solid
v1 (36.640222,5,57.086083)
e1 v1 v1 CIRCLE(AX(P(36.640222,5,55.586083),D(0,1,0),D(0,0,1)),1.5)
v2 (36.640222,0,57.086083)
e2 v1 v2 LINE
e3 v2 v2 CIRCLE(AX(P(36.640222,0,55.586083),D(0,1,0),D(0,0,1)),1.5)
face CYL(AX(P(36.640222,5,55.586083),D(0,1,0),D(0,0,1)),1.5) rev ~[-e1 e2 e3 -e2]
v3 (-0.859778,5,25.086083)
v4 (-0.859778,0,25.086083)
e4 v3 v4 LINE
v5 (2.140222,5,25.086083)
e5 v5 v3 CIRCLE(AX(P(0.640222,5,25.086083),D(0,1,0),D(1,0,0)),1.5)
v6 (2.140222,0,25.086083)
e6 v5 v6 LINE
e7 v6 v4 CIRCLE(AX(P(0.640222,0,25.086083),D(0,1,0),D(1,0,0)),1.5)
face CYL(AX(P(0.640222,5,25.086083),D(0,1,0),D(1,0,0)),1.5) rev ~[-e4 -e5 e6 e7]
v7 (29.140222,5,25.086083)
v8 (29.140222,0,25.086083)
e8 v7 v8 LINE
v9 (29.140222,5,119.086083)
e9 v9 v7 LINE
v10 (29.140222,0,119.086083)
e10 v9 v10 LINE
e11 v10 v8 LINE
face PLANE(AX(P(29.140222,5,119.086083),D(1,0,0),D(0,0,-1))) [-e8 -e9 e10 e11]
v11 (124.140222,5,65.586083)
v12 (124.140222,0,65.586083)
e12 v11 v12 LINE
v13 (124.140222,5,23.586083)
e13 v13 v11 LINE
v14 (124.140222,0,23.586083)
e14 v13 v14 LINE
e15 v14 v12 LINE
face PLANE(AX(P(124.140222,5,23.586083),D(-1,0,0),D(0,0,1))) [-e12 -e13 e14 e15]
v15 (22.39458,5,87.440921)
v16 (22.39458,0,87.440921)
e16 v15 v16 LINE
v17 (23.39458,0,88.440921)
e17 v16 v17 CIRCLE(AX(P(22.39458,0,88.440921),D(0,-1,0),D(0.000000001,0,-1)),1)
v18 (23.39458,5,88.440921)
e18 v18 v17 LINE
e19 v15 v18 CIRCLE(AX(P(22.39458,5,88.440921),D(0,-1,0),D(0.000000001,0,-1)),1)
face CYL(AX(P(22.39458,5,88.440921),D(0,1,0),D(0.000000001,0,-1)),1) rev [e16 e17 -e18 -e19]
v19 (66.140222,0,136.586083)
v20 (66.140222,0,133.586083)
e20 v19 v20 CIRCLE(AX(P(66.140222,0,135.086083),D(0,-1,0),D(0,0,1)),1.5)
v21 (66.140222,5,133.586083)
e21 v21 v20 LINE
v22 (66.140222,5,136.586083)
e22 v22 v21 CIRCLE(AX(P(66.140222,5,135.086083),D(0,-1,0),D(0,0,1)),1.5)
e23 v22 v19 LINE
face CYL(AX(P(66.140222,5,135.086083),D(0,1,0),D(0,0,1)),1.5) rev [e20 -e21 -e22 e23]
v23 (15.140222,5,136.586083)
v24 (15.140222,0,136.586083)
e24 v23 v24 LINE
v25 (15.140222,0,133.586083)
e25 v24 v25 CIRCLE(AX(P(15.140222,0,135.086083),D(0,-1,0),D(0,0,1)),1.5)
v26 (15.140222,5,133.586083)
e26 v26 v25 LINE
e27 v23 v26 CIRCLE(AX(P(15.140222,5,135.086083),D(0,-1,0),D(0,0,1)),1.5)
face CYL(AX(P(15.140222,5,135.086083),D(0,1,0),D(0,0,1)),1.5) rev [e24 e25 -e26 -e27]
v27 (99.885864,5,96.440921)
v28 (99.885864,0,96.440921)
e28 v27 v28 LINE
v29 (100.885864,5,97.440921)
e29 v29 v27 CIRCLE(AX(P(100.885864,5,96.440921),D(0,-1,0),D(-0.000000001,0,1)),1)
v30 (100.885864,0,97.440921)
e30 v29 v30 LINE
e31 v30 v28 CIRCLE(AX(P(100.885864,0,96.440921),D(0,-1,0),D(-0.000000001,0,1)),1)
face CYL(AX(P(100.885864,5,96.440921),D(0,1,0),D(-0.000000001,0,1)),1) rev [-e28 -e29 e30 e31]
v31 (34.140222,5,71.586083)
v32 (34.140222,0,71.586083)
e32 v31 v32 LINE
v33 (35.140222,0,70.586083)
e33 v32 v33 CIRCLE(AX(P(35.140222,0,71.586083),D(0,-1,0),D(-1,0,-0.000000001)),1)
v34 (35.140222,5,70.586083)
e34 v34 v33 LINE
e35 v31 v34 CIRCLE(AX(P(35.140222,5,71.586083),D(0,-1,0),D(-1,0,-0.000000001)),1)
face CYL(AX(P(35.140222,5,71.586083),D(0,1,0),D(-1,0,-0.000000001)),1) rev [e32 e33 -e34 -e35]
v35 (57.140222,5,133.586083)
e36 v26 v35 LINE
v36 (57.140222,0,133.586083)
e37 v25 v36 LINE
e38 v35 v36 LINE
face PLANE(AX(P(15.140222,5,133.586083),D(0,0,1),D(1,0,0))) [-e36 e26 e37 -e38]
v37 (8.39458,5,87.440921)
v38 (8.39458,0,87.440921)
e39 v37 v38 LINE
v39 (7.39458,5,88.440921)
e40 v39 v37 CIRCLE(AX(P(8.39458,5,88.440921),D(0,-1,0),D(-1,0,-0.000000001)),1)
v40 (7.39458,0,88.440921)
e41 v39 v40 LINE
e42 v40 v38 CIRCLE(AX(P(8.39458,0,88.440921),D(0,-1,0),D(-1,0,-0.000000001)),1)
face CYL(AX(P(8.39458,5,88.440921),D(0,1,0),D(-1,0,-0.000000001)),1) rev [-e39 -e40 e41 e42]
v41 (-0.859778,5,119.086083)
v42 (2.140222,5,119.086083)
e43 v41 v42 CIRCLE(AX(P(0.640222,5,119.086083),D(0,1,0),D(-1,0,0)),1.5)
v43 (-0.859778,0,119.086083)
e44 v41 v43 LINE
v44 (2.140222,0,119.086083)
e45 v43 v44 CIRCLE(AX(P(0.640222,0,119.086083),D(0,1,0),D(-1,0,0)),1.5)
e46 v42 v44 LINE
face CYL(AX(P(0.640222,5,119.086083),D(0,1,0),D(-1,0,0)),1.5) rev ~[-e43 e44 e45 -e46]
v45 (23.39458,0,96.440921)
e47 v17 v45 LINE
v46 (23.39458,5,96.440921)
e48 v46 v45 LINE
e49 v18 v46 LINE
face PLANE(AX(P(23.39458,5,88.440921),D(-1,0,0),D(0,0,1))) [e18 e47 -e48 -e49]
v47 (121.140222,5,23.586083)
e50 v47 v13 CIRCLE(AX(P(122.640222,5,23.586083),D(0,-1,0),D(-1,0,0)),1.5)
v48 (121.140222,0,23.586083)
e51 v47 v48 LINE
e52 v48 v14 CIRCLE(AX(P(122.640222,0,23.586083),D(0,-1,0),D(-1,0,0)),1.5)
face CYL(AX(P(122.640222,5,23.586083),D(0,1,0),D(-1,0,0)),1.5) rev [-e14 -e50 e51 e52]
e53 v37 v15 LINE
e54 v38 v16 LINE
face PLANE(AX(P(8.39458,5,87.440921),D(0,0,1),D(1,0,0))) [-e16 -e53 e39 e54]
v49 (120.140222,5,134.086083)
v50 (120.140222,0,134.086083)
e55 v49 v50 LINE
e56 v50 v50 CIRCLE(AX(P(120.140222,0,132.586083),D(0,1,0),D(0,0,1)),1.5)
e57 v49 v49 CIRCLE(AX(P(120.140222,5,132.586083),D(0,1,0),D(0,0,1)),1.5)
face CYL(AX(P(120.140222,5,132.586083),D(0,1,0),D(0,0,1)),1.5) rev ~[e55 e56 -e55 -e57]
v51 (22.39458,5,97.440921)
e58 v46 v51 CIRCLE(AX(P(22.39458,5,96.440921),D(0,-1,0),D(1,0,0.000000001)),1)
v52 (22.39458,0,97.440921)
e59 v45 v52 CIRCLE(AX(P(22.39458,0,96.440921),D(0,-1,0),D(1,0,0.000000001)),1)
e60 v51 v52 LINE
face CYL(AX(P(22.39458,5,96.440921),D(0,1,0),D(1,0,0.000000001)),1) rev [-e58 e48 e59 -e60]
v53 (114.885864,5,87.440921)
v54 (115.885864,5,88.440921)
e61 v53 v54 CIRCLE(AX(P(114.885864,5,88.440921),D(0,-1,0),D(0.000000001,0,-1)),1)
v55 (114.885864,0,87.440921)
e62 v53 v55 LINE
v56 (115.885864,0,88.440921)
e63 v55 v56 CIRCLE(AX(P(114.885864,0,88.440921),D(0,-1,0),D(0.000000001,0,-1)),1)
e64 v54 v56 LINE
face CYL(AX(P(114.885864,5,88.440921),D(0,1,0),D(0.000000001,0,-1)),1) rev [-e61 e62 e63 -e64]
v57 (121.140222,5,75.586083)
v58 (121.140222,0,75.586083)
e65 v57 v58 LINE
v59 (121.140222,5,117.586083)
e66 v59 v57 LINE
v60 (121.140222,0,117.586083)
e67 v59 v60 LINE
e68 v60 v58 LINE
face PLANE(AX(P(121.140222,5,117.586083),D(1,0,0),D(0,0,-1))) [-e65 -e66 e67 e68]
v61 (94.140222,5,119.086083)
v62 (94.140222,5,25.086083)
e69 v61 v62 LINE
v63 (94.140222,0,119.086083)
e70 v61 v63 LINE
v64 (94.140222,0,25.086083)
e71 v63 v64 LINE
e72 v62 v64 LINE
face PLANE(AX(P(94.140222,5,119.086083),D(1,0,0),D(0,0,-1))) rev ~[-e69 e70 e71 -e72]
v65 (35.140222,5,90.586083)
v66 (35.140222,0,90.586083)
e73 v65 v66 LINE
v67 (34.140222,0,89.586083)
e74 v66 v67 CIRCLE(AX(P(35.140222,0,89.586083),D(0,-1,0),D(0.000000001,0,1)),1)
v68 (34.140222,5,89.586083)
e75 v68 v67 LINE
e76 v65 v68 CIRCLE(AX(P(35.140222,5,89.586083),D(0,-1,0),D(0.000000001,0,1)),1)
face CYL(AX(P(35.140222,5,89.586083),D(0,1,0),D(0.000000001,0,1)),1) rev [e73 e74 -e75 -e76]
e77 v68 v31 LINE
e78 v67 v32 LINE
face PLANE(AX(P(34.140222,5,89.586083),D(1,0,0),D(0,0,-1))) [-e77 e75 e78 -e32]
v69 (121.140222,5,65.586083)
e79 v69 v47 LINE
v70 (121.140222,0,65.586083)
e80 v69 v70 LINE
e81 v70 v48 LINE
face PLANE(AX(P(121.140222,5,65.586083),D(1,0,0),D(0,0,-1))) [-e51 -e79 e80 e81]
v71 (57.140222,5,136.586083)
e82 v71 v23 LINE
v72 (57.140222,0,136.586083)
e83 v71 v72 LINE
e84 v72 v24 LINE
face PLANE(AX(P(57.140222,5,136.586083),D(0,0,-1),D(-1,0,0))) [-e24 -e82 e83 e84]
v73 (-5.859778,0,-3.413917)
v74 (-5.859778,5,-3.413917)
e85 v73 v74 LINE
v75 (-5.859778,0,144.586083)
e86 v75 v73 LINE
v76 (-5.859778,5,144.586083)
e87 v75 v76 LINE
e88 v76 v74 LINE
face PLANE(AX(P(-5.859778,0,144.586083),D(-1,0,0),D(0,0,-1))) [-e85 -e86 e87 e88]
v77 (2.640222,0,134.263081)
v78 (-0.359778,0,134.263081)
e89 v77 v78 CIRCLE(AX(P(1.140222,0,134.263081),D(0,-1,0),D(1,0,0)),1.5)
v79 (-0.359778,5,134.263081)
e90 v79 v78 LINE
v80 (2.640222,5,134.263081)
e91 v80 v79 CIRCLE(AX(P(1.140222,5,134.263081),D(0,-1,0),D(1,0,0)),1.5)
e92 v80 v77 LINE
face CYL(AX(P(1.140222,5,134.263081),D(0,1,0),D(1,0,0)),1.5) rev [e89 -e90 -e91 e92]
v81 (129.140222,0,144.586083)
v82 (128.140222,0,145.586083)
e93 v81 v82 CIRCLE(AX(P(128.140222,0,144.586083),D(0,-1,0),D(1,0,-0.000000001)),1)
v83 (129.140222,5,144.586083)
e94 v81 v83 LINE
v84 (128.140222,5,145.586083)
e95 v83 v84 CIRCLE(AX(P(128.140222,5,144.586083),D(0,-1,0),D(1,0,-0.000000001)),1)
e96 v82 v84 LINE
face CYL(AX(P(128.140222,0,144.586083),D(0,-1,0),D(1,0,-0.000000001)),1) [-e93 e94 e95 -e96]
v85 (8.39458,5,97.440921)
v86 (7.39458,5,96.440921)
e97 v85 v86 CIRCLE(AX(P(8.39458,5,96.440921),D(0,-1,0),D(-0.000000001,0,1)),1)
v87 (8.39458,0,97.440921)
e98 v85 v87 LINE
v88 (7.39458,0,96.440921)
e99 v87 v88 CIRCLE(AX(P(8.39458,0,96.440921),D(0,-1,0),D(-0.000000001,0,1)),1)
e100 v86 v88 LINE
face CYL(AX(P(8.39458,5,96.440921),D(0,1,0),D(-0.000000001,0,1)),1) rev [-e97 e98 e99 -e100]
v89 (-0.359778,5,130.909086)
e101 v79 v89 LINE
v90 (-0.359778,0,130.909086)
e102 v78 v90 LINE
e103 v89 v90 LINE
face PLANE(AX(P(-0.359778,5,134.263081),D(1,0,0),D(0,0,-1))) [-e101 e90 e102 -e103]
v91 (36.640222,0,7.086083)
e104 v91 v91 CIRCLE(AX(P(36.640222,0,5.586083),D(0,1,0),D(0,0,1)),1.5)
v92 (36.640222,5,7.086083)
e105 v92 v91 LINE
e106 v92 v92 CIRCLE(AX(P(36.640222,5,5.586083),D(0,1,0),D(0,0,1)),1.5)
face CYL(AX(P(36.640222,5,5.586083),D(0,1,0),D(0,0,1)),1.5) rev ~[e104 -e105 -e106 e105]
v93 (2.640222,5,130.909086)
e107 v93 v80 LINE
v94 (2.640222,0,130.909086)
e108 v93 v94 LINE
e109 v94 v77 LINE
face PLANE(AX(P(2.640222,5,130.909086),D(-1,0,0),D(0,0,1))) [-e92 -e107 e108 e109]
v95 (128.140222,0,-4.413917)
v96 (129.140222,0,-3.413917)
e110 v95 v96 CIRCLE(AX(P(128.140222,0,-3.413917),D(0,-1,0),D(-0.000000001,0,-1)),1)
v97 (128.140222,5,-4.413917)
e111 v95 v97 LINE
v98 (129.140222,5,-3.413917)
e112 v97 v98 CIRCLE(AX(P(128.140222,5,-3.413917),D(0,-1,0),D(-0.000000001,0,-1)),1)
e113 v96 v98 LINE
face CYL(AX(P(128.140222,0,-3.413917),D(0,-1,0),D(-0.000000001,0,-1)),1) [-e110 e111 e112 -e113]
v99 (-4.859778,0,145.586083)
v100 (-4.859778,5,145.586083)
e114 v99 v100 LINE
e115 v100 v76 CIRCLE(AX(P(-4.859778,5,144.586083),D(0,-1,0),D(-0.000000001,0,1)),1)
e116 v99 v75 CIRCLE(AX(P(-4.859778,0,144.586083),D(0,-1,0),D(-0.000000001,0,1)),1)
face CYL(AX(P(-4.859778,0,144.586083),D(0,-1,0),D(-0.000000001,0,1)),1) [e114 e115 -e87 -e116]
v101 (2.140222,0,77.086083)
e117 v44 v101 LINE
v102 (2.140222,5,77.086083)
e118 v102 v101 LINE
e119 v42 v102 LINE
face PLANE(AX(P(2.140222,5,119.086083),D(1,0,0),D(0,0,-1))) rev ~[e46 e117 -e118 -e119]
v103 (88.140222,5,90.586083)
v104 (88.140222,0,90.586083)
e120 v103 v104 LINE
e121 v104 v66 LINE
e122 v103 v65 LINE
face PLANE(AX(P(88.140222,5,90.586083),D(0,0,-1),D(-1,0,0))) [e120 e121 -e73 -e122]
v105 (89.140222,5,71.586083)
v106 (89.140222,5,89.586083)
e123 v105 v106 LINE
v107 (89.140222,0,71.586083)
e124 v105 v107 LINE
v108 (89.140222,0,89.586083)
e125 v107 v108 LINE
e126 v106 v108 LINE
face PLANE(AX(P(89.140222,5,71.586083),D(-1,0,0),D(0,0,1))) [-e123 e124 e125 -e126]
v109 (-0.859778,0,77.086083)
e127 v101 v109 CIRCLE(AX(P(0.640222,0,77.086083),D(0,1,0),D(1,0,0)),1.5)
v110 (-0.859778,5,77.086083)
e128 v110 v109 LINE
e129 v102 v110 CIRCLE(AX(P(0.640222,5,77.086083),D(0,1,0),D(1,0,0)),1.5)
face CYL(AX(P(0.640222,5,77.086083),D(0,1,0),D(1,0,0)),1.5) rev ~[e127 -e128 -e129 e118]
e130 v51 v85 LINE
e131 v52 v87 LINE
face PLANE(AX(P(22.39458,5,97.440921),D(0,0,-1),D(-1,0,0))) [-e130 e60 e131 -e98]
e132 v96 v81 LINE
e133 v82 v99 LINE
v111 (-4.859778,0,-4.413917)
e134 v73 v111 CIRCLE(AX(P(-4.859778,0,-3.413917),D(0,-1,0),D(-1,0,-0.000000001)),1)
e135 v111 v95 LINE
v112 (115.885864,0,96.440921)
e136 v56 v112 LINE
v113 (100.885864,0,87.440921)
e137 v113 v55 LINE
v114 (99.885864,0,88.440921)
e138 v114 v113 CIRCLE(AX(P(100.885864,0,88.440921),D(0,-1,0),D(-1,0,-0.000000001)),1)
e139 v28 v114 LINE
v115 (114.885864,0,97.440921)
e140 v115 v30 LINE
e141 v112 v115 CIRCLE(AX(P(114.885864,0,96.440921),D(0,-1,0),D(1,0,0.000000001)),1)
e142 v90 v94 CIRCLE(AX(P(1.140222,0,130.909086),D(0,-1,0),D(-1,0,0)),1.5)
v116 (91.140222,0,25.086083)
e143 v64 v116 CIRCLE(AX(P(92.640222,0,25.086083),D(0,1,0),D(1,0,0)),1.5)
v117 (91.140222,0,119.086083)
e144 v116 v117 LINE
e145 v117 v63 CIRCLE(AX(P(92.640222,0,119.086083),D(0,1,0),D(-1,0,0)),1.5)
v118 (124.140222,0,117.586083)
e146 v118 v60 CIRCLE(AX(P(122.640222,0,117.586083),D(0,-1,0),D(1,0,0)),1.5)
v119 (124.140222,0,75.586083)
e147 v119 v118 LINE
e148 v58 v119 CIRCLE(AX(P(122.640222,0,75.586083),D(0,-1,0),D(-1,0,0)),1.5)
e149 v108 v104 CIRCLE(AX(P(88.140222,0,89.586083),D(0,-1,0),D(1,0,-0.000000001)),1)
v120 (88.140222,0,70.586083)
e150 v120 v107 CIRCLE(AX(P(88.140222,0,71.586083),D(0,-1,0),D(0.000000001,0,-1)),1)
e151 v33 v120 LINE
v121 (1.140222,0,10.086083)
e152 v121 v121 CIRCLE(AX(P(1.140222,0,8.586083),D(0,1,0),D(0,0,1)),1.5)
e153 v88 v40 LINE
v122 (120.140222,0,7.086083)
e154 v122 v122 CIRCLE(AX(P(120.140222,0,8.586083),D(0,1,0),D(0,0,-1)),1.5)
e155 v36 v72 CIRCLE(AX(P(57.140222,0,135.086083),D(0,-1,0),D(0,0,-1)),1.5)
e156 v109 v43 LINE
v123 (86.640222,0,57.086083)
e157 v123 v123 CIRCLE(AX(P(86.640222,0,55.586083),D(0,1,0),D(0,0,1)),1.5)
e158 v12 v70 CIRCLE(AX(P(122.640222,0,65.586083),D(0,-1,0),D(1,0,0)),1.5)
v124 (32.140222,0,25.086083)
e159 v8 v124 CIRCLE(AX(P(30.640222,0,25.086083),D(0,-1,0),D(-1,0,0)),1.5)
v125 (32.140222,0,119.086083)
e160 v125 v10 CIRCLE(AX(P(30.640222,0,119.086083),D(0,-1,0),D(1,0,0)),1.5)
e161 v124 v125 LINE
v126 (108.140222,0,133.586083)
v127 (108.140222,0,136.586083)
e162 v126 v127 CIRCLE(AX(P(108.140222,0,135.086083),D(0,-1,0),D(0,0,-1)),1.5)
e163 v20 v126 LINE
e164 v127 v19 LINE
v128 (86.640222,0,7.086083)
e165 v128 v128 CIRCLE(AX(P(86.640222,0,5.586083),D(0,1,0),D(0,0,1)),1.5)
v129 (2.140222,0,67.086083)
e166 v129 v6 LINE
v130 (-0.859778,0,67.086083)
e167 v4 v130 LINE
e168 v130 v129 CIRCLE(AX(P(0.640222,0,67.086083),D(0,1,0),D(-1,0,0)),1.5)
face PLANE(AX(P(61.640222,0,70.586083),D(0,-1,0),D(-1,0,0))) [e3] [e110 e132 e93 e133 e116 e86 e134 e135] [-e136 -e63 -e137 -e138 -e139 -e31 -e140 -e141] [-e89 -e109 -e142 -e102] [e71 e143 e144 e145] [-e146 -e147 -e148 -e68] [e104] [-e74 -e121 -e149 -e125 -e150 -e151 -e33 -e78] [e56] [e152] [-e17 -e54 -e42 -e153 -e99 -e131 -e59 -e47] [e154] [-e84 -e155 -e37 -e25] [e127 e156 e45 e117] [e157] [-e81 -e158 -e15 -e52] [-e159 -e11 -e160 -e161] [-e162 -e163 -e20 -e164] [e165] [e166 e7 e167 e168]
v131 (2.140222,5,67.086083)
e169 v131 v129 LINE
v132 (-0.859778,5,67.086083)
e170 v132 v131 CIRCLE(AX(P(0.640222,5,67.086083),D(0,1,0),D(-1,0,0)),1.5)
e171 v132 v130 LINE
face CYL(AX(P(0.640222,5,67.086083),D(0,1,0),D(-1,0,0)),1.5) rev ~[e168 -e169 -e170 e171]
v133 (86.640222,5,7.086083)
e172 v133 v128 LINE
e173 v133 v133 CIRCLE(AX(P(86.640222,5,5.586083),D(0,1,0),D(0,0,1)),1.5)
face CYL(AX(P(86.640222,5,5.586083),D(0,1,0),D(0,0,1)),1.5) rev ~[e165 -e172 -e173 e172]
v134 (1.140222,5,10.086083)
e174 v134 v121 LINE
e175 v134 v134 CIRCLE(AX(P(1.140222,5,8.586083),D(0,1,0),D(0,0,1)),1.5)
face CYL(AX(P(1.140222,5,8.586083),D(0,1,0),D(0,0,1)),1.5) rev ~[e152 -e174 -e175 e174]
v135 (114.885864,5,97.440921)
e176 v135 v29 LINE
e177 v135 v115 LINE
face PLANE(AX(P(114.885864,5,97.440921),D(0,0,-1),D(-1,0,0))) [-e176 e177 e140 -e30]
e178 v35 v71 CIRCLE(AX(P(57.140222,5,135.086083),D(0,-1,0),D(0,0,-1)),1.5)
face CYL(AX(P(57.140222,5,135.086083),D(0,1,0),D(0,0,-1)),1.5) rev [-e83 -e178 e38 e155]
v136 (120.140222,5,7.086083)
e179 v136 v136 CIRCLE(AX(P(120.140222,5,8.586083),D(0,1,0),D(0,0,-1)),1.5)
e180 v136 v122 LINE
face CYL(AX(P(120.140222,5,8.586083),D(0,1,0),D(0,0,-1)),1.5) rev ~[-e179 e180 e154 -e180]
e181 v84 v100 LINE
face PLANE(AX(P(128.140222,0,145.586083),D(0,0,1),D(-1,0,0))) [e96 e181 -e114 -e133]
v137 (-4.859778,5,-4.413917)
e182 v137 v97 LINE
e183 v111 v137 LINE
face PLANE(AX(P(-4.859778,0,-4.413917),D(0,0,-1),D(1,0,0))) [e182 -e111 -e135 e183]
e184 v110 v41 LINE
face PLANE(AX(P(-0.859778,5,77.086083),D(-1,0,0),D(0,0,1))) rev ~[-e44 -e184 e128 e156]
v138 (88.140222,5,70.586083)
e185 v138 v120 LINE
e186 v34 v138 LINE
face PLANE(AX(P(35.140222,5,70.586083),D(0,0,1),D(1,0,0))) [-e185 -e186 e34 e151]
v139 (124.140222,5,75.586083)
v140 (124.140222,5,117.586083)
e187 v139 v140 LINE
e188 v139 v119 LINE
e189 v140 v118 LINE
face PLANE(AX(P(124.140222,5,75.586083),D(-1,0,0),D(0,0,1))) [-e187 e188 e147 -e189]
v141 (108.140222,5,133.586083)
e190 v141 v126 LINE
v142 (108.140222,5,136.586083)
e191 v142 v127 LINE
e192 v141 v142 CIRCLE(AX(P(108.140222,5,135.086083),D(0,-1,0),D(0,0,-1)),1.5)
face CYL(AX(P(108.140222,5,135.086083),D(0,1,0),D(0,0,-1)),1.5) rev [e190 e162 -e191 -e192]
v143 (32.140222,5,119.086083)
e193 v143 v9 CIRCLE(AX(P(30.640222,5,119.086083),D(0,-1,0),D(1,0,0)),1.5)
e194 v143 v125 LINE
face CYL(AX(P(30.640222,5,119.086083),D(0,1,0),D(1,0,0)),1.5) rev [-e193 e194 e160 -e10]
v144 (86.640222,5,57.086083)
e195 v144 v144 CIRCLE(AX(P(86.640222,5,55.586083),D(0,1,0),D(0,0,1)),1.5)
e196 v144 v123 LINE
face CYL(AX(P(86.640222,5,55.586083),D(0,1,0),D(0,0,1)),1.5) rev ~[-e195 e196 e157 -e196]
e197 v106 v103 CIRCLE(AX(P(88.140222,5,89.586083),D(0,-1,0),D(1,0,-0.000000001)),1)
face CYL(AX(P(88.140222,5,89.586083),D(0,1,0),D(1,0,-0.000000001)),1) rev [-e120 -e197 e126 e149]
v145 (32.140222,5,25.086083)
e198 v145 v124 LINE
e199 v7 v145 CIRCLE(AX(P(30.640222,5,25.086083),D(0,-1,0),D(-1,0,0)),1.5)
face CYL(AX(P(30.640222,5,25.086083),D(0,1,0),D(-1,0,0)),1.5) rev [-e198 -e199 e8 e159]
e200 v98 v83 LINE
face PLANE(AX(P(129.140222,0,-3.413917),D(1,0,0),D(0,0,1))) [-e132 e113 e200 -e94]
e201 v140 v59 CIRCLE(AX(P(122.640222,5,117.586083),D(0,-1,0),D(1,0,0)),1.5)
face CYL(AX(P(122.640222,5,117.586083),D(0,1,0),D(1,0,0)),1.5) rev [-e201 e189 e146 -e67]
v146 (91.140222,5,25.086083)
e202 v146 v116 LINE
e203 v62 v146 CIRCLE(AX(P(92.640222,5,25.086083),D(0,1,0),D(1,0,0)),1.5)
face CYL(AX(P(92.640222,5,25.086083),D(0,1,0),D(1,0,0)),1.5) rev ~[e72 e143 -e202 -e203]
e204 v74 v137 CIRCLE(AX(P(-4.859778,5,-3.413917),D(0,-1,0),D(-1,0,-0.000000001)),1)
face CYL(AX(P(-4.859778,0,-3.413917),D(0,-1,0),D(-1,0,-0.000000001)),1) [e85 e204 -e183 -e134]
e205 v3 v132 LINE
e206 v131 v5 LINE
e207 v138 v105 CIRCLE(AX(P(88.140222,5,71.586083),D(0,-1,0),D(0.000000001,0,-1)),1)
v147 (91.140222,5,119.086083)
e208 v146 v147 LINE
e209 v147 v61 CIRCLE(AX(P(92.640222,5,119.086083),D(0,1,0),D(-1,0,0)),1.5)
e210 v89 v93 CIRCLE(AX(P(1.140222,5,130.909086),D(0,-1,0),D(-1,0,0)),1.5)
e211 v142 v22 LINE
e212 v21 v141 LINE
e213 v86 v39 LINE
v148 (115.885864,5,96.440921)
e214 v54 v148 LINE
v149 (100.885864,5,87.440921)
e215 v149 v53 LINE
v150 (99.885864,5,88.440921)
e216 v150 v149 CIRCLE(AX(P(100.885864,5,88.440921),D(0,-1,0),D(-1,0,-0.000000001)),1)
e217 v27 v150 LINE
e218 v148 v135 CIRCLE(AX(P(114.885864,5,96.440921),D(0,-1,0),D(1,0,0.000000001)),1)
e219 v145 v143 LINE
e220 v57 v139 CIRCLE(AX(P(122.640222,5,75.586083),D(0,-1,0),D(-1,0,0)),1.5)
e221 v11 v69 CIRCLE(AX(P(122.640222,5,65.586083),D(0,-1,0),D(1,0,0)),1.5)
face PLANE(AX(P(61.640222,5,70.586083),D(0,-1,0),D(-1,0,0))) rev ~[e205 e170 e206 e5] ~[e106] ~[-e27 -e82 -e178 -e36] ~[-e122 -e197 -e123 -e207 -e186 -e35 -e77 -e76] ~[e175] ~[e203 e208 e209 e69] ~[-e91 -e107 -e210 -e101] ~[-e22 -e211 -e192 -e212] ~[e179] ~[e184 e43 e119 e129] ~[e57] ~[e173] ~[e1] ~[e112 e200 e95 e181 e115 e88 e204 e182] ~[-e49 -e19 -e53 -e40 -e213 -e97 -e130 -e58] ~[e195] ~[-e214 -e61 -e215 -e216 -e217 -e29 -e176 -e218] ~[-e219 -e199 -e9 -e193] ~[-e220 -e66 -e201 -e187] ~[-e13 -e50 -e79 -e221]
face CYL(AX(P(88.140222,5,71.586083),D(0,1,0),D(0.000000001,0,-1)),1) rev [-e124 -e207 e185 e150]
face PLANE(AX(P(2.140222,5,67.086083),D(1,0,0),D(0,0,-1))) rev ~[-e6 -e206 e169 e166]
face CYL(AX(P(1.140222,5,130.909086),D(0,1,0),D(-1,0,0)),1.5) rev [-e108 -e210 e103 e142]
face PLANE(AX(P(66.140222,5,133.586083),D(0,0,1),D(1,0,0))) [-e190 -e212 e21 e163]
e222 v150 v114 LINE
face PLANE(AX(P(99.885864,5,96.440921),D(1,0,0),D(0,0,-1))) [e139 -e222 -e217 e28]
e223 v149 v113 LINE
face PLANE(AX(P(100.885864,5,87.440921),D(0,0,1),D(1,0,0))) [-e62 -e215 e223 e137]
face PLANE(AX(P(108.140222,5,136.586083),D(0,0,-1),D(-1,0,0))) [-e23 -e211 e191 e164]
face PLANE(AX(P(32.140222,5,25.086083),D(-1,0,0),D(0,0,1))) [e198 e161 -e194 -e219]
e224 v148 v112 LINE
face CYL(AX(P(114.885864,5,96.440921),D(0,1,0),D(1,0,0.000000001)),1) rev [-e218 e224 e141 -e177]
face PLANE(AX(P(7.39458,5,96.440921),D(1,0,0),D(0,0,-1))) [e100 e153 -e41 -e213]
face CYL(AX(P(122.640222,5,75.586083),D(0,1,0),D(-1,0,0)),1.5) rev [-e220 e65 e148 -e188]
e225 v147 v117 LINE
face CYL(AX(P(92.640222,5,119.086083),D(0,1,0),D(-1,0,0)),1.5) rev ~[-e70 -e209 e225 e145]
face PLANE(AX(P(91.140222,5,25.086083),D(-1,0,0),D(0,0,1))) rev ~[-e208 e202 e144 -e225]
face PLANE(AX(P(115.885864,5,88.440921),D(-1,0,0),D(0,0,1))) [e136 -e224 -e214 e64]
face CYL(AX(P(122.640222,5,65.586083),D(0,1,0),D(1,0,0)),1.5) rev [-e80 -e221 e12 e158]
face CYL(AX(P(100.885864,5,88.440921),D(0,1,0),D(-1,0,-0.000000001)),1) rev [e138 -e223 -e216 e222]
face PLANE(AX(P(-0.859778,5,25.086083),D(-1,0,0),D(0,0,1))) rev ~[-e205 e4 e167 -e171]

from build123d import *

# Parameters (mm, degrees)
BOSS_EXTRUDE1_DEPTH = 5
CUT_EXTRUDE1_DEPTH  = 5
CUT_EXTRUDE2_DEPTH  = 5
SKETCH7_R           = 1.5
CUT_EXTRUDE3_DEPTH  = 5
CUT_EXTRUDE4_DEPTH  = 5
SKETCH10_R          = 1.5
CUT_EXTRUDE5_DEPTH  = 5
CUT_EXTRUDE6_DEPTH  = 5
CUT_EXTRUDE7_DEPTH  = 5


with BuildPart() as part:
    # Sketch1 → Boss-Extrude1 (new body)
    with BuildSketch(Plane(origin=(0, 0, 0), x_dir=(1, 0, 0), z_dir=(0, 1, 0))):
        with BuildLine():
            Line((-4.859778007, 4.413916891), (128.140221993, 4.413916891))
            ThreePointArc((128.140221993, 4.413916891), (128.847328775, 4.121023672), (129.140221993, 3.413916891))
            Line((129.140221993, 3.413916891), (129.140221993, -144.586083109))
            ThreePointArc((129.140221993, -144.586083109), (128.847328775, -145.29318989), (128.140221993, -145.586083109))
            Line((128.140221993, -145.586083109), (-4.859778007, -145.586083109))
            ThreePointArc((-4.859778007, -145.586083109), (-5.566884788, -145.29318989), (-5.859778007, -144.586083109))
            Line((-5.859778007, -144.586083109), (-5.859778007, 3.413916891))
            ThreePointArc((-5.859778007, 3.413916891), (-5.566884788, 4.121023672), (-4.859778007, 4.413916891))
        make_face()
    extrude(amount=BOSS_EXTRUDE1_DEPTH)

    # Sketch3 → Cut-Extrude1 (cut)
    with BuildSketch(Plane(origin=(75.20450804, 5, 34.196611672), x_dir=(1, 0, 0), z_dir=(0, 1, 0))):
        with BuildLine():
            Line((45.935713953, -83.389471436), (45.935713953, -41.389471436))
            ThreePointArc((45.935713953, -41.389471436), (47.435713953, -39.889471436), (48.935713953, -41.389471436))
            Line((48.935713953, -41.389471436), (48.935713953, -83.389471436))
            ThreePointArc((48.935713953, -83.389471436), (47.435713953, -84.889471436), (45.935713953, -83.389471436))
        make_face()
        with BuildLine():
            Line((45.935713953, -31.389471436), (45.935713953, 10.610528564))
            ThreePointArc((45.935713953, 10.610528564), (47.435713953, 12.110528564), (48.935713953, 10.610528564))
            Line((48.935713953, 10.610528564), (48.935713953, -31.389471436))
            ThreePointArc((48.935713953, -31.389471436), (47.435713953, -32.889471436), (45.935713953, -31.389471436))
        make_face()
        with BuildLine():
            Line((-73.064286047, -84.889471436), (-73.064286047, -42.889471436))
            ThreePointArc((-73.064286047, -42.889471436), (-74.564286047, -41.389471436), (-76.064286047, -42.889471436))
            Line((-76.064286047, -42.889471436), (-76.064286047, -84.889471436))
            ThreePointArc((-76.064286047, -84.889471436), (-74.564286047, -86.389471436), (-73.064286047, -84.889471436))
        make_face()
        with BuildLine():
            Line((-73.064286047, -32.889471436), (-73.064286047, 9.110528564))
            ThreePointArc((-73.064286047, 9.110528564), (-74.564286047, 10.610528564), (-76.064286047, 9.110528564))
            Line((-76.064286047, 9.110528564), (-76.064286047, -32.889471436))
            ThreePointArc((-76.064286047, -32.889471436), (-74.564286047, -34.389471436), (-73.064286047, -32.889471436))
        make_face()
    extrude(amount=-CUT_EXTRUDE1_DEPTH, mode=Mode.SUBTRACT)

    # Sketch5 → Cut-Extrude2 (cut)
    with BuildSketch(Plane(origin=(75.20450804, 5, 34.196611672), x_dir=(1, 0, 0), z_dir=(0, 1, 0))):
        with BuildLine():
            Line((-60.064286047, -99.389471436), (-18.064286047, -99.389471436))
            ThreePointArc((-18.064286047, -99.389471436), (-16.564286047, -100.889471436), (-18.064286047, -102.389471436))
            Line((-18.064286047, -102.389471436), (-60.064286047, -102.389471436))
            ThreePointArc((-60.064286047, -102.389471436), (-61.564286047, -100.889471436), (-60.064286047, -99.389471436))
        make_face()
        with BuildLine():
            Line((-9.064286047, -99.389471436), (32.935713953, -99.389471436))
            ThreePointArc((32.935713953, -99.389471436), (34.435713953, -100.889471436), (32.935713953, -102.389471436))
            Line((32.935713953, -102.389471436), (-9.064286047, -102.389471436))
            ThreePointArc((-9.064286047, -102.389471436), (-10.564286047, -100.889471436), (-9.064286047, -99.389471436))
        make_face()
    extrude(amount=-CUT_EXTRUDE2_DEPTH, mode=Mode.SUBTRACT)

    # Sketch7 → Cut-Extrude3 (cut)
    with BuildSketch(Plane(origin=(75.20450804, 5, 34.196611672), x_dir=(1, 0, 0), z_dir=(0, 1, 0))):
        with Locations(Location((44.935713953, -98.389471436, 0), (0, 0, 270))):
            Circle(SKETCH7_R)
        with Locations(Location((44.935713953, 25.610528564, 0), (0, 0, 90))):
            Circle(SKETCH7_R)
        with Locations(Location((-74.064286047, 25.610528564, 0), (0, 0, 270))):
            Circle(SKETCH7_R)
        with BuildLine():
            Line((-72.564286047, -96.712473991), (-72.564286047, -100.066468882))
            ThreePointArc((-72.564286047, -100.066468882), (-74.064286047, -101.566468882), (-75.564286047, -100.066468882))
            Line((-75.564286047, -100.066468882), (-75.564286047, -96.712473991))
            ThreePointArc((-75.564286047, -96.712473991), (-74.064286047, -95.212473991), (-72.564286047, -96.712473991))
        make_face()
    extrude(amount=-CUT_EXTRUDE3_DEPTH, mode=Mode.SUBTRACT)

    # Sketch9 → Cut-Extrude4 (cut)
    with BuildSketch(Plane(origin=(75.20450804, 5, 34.196611672), x_dir=(1, 0, 0), z_dir=(0, 1, 0))):
        with BuildLine():
            Line((-40.064286047, -36.389471436), (12.935713953, -36.389471436))
            ThreePointArc((12.935713953, -36.389471436), (13.642820734, -36.682364655), (13.935713953, -37.389471436))
            Line((13.935713953, -37.389471436), (13.935713953, -55.389471436))
            ThreePointArc((13.935713953, -55.389471436), (13.642820734, -56.096578218), (12.935713953, -56.389471436))
            Line((12.935713953, -56.389471436), (-40.064286047, -56.389471436))
            ThreePointArc((-40.064286047, -56.389471436), (-40.771392828, -56.096578218), (-41.064286047, -55.389471436))
            Line((-41.064286047, -55.389471436), (-41.064286047, -37.389471436))
            ThreePointArc((-41.064286047, -37.389471436), (-40.771392828, -36.682364655), (-40.064286047, -36.389471436))
        make_face()
    extrude(amount=-CUT_EXTRUDE4_DEPTH, mode=Mode.SUBTRACT)

    # Sketch10 → Cut-Extrude5 (cut)
    with BuildSketch(Plane(origin=(0, 5, 0), x_dir=(1, 0, 0), z_dir=(0, 1, 0))):
        with Locations(Location((36.640221993, -5.586083109, 0), (0, 0, 270))):
            Circle(SKETCH10_R)
        with Locations(Location((86.640221993, -5.586083109, 0), (0, 0, 270))):
            Circle(SKETCH10_R)
        with Locations(Location((86.640221993, -55.586083109, 0), (0, 0, 270))):
            Circle(SKETCH10_R)
        with Locations(Location((36.640221993, -55.586083109, 0), (0, 0, 270))):
            Circle(SKETCH10_R)
    extrude(amount=-CUT_EXTRUDE5_DEPTH, mode=Mode.SUBTRACT)

    # Sketch11 → Cut-Extrude6 (cut)
    with BuildSketch(Plane(origin=(0, 5, 0), x_dir=(1, 0, 0), z_dir=(0, 1, 0))):
        with BuildLine():
            Line((32.140221993, -25.086083109), (32.140221993, -119.086083109))
            ThreePointArc((32.140221993, -119.086083109), (30.640221993, -120.586083109), (29.140221993, -119.086083109))
            Line((29.140221993, -119.086083109), (29.140221993, -25.086083109))
            ThreePointArc((29.140221993, -25.086083109), (30.640221993, -23.586083109), (32.140221993, -25.086083109))
        make_face()
        with BuildLine():
            Line((91.140221993, -25.086083109), (91.140221993, -119.086083109))
            ThreePointArc((91.140221993, -119.086083109), (92.640221993, -120.586083109), (94.140221993, -119.086083109))
            Line((94.140221993, -119.086083109), (94.140221993, -25.086083109))
            ThreePointArc((94.140221993, -25.086083109), (92.640221993, -23.586083109), (91.140221993, -25.086083109))
        make_face()
    extrude(amount=-CUT_EXTRUDE6_DEPTH, mode=Mode.SUBTRACT)

    # Sketch12 → Cut-Extrude7 (cut)
    with BuildSketch(Plane(origin=(0, 5, 0), x_dir=(1, 0, 0), z_dir=(0, 1, 0))):
        with BuildLine():
            Line((22.394580423, -97.440920872), (8.394580423, -97.440920872))
            ThreePointArc((8.394580423, -97.440920872), (7.687473642, -97.148027653), (7.394580423, -96.440920872))
            Line((7.394580423, -96.440920872), (7.394580423, -88.440920872))
            ThreePointArc((7.394580423, -88.440920872), (7.687473642, -87.733814091), (8.394580423, -87.440920872))
            Line((8.394580423, -87.440920872), (22.394580423, -87.440920872))
            ThreePointArc((22.394580423, -87.440920872), (23.101687204, -87.733814091), (23.394580423, -88.440920872))
            Line((23.394580423, -88.440920872), (23.394580423, -96.440920872))
            ThreePointArc((23.394580423, -96.440920872), (23.101687204, -97.148027653), (22.394580423, -97.440920872))
        make_face()
        with BuildLine():
            Line((100.885863564, -87.440920872), (114.885863564, -87.440920872))
            ThreePointArc((114.885863564, -87.440920872), (115.592970345, -87.733814091), (115.885863564, -88.440920872))
            Line((115.885863564, -88.440920872), (115.885863564, -96.440920872))
            ThreePointArc((115.885863564, -96.440920872), (115.592970345, -97.148027653), (114.885863564, -97.440920872))
            Line((114.885863564, -97.440920872), (100.885863564, -97.440920872))
            ThreePointArc((100.885863564, -97.440920872), (100.178756783, -97.148027653), (99.885863564, -96.440920872))
            Line((99.885863564, -96.440920872), (99.885863564, -88.440920872))
            ThreePointArc((99.885863564, -88.440920872), (100.178756783, -87.733814091), (100.885863564, -87.440920872))
        make_face()
    extrude(amount=-CUT_EXTRUDE7_DEPTH, mode=Mode.SUBTRACT)


solid = part.part
